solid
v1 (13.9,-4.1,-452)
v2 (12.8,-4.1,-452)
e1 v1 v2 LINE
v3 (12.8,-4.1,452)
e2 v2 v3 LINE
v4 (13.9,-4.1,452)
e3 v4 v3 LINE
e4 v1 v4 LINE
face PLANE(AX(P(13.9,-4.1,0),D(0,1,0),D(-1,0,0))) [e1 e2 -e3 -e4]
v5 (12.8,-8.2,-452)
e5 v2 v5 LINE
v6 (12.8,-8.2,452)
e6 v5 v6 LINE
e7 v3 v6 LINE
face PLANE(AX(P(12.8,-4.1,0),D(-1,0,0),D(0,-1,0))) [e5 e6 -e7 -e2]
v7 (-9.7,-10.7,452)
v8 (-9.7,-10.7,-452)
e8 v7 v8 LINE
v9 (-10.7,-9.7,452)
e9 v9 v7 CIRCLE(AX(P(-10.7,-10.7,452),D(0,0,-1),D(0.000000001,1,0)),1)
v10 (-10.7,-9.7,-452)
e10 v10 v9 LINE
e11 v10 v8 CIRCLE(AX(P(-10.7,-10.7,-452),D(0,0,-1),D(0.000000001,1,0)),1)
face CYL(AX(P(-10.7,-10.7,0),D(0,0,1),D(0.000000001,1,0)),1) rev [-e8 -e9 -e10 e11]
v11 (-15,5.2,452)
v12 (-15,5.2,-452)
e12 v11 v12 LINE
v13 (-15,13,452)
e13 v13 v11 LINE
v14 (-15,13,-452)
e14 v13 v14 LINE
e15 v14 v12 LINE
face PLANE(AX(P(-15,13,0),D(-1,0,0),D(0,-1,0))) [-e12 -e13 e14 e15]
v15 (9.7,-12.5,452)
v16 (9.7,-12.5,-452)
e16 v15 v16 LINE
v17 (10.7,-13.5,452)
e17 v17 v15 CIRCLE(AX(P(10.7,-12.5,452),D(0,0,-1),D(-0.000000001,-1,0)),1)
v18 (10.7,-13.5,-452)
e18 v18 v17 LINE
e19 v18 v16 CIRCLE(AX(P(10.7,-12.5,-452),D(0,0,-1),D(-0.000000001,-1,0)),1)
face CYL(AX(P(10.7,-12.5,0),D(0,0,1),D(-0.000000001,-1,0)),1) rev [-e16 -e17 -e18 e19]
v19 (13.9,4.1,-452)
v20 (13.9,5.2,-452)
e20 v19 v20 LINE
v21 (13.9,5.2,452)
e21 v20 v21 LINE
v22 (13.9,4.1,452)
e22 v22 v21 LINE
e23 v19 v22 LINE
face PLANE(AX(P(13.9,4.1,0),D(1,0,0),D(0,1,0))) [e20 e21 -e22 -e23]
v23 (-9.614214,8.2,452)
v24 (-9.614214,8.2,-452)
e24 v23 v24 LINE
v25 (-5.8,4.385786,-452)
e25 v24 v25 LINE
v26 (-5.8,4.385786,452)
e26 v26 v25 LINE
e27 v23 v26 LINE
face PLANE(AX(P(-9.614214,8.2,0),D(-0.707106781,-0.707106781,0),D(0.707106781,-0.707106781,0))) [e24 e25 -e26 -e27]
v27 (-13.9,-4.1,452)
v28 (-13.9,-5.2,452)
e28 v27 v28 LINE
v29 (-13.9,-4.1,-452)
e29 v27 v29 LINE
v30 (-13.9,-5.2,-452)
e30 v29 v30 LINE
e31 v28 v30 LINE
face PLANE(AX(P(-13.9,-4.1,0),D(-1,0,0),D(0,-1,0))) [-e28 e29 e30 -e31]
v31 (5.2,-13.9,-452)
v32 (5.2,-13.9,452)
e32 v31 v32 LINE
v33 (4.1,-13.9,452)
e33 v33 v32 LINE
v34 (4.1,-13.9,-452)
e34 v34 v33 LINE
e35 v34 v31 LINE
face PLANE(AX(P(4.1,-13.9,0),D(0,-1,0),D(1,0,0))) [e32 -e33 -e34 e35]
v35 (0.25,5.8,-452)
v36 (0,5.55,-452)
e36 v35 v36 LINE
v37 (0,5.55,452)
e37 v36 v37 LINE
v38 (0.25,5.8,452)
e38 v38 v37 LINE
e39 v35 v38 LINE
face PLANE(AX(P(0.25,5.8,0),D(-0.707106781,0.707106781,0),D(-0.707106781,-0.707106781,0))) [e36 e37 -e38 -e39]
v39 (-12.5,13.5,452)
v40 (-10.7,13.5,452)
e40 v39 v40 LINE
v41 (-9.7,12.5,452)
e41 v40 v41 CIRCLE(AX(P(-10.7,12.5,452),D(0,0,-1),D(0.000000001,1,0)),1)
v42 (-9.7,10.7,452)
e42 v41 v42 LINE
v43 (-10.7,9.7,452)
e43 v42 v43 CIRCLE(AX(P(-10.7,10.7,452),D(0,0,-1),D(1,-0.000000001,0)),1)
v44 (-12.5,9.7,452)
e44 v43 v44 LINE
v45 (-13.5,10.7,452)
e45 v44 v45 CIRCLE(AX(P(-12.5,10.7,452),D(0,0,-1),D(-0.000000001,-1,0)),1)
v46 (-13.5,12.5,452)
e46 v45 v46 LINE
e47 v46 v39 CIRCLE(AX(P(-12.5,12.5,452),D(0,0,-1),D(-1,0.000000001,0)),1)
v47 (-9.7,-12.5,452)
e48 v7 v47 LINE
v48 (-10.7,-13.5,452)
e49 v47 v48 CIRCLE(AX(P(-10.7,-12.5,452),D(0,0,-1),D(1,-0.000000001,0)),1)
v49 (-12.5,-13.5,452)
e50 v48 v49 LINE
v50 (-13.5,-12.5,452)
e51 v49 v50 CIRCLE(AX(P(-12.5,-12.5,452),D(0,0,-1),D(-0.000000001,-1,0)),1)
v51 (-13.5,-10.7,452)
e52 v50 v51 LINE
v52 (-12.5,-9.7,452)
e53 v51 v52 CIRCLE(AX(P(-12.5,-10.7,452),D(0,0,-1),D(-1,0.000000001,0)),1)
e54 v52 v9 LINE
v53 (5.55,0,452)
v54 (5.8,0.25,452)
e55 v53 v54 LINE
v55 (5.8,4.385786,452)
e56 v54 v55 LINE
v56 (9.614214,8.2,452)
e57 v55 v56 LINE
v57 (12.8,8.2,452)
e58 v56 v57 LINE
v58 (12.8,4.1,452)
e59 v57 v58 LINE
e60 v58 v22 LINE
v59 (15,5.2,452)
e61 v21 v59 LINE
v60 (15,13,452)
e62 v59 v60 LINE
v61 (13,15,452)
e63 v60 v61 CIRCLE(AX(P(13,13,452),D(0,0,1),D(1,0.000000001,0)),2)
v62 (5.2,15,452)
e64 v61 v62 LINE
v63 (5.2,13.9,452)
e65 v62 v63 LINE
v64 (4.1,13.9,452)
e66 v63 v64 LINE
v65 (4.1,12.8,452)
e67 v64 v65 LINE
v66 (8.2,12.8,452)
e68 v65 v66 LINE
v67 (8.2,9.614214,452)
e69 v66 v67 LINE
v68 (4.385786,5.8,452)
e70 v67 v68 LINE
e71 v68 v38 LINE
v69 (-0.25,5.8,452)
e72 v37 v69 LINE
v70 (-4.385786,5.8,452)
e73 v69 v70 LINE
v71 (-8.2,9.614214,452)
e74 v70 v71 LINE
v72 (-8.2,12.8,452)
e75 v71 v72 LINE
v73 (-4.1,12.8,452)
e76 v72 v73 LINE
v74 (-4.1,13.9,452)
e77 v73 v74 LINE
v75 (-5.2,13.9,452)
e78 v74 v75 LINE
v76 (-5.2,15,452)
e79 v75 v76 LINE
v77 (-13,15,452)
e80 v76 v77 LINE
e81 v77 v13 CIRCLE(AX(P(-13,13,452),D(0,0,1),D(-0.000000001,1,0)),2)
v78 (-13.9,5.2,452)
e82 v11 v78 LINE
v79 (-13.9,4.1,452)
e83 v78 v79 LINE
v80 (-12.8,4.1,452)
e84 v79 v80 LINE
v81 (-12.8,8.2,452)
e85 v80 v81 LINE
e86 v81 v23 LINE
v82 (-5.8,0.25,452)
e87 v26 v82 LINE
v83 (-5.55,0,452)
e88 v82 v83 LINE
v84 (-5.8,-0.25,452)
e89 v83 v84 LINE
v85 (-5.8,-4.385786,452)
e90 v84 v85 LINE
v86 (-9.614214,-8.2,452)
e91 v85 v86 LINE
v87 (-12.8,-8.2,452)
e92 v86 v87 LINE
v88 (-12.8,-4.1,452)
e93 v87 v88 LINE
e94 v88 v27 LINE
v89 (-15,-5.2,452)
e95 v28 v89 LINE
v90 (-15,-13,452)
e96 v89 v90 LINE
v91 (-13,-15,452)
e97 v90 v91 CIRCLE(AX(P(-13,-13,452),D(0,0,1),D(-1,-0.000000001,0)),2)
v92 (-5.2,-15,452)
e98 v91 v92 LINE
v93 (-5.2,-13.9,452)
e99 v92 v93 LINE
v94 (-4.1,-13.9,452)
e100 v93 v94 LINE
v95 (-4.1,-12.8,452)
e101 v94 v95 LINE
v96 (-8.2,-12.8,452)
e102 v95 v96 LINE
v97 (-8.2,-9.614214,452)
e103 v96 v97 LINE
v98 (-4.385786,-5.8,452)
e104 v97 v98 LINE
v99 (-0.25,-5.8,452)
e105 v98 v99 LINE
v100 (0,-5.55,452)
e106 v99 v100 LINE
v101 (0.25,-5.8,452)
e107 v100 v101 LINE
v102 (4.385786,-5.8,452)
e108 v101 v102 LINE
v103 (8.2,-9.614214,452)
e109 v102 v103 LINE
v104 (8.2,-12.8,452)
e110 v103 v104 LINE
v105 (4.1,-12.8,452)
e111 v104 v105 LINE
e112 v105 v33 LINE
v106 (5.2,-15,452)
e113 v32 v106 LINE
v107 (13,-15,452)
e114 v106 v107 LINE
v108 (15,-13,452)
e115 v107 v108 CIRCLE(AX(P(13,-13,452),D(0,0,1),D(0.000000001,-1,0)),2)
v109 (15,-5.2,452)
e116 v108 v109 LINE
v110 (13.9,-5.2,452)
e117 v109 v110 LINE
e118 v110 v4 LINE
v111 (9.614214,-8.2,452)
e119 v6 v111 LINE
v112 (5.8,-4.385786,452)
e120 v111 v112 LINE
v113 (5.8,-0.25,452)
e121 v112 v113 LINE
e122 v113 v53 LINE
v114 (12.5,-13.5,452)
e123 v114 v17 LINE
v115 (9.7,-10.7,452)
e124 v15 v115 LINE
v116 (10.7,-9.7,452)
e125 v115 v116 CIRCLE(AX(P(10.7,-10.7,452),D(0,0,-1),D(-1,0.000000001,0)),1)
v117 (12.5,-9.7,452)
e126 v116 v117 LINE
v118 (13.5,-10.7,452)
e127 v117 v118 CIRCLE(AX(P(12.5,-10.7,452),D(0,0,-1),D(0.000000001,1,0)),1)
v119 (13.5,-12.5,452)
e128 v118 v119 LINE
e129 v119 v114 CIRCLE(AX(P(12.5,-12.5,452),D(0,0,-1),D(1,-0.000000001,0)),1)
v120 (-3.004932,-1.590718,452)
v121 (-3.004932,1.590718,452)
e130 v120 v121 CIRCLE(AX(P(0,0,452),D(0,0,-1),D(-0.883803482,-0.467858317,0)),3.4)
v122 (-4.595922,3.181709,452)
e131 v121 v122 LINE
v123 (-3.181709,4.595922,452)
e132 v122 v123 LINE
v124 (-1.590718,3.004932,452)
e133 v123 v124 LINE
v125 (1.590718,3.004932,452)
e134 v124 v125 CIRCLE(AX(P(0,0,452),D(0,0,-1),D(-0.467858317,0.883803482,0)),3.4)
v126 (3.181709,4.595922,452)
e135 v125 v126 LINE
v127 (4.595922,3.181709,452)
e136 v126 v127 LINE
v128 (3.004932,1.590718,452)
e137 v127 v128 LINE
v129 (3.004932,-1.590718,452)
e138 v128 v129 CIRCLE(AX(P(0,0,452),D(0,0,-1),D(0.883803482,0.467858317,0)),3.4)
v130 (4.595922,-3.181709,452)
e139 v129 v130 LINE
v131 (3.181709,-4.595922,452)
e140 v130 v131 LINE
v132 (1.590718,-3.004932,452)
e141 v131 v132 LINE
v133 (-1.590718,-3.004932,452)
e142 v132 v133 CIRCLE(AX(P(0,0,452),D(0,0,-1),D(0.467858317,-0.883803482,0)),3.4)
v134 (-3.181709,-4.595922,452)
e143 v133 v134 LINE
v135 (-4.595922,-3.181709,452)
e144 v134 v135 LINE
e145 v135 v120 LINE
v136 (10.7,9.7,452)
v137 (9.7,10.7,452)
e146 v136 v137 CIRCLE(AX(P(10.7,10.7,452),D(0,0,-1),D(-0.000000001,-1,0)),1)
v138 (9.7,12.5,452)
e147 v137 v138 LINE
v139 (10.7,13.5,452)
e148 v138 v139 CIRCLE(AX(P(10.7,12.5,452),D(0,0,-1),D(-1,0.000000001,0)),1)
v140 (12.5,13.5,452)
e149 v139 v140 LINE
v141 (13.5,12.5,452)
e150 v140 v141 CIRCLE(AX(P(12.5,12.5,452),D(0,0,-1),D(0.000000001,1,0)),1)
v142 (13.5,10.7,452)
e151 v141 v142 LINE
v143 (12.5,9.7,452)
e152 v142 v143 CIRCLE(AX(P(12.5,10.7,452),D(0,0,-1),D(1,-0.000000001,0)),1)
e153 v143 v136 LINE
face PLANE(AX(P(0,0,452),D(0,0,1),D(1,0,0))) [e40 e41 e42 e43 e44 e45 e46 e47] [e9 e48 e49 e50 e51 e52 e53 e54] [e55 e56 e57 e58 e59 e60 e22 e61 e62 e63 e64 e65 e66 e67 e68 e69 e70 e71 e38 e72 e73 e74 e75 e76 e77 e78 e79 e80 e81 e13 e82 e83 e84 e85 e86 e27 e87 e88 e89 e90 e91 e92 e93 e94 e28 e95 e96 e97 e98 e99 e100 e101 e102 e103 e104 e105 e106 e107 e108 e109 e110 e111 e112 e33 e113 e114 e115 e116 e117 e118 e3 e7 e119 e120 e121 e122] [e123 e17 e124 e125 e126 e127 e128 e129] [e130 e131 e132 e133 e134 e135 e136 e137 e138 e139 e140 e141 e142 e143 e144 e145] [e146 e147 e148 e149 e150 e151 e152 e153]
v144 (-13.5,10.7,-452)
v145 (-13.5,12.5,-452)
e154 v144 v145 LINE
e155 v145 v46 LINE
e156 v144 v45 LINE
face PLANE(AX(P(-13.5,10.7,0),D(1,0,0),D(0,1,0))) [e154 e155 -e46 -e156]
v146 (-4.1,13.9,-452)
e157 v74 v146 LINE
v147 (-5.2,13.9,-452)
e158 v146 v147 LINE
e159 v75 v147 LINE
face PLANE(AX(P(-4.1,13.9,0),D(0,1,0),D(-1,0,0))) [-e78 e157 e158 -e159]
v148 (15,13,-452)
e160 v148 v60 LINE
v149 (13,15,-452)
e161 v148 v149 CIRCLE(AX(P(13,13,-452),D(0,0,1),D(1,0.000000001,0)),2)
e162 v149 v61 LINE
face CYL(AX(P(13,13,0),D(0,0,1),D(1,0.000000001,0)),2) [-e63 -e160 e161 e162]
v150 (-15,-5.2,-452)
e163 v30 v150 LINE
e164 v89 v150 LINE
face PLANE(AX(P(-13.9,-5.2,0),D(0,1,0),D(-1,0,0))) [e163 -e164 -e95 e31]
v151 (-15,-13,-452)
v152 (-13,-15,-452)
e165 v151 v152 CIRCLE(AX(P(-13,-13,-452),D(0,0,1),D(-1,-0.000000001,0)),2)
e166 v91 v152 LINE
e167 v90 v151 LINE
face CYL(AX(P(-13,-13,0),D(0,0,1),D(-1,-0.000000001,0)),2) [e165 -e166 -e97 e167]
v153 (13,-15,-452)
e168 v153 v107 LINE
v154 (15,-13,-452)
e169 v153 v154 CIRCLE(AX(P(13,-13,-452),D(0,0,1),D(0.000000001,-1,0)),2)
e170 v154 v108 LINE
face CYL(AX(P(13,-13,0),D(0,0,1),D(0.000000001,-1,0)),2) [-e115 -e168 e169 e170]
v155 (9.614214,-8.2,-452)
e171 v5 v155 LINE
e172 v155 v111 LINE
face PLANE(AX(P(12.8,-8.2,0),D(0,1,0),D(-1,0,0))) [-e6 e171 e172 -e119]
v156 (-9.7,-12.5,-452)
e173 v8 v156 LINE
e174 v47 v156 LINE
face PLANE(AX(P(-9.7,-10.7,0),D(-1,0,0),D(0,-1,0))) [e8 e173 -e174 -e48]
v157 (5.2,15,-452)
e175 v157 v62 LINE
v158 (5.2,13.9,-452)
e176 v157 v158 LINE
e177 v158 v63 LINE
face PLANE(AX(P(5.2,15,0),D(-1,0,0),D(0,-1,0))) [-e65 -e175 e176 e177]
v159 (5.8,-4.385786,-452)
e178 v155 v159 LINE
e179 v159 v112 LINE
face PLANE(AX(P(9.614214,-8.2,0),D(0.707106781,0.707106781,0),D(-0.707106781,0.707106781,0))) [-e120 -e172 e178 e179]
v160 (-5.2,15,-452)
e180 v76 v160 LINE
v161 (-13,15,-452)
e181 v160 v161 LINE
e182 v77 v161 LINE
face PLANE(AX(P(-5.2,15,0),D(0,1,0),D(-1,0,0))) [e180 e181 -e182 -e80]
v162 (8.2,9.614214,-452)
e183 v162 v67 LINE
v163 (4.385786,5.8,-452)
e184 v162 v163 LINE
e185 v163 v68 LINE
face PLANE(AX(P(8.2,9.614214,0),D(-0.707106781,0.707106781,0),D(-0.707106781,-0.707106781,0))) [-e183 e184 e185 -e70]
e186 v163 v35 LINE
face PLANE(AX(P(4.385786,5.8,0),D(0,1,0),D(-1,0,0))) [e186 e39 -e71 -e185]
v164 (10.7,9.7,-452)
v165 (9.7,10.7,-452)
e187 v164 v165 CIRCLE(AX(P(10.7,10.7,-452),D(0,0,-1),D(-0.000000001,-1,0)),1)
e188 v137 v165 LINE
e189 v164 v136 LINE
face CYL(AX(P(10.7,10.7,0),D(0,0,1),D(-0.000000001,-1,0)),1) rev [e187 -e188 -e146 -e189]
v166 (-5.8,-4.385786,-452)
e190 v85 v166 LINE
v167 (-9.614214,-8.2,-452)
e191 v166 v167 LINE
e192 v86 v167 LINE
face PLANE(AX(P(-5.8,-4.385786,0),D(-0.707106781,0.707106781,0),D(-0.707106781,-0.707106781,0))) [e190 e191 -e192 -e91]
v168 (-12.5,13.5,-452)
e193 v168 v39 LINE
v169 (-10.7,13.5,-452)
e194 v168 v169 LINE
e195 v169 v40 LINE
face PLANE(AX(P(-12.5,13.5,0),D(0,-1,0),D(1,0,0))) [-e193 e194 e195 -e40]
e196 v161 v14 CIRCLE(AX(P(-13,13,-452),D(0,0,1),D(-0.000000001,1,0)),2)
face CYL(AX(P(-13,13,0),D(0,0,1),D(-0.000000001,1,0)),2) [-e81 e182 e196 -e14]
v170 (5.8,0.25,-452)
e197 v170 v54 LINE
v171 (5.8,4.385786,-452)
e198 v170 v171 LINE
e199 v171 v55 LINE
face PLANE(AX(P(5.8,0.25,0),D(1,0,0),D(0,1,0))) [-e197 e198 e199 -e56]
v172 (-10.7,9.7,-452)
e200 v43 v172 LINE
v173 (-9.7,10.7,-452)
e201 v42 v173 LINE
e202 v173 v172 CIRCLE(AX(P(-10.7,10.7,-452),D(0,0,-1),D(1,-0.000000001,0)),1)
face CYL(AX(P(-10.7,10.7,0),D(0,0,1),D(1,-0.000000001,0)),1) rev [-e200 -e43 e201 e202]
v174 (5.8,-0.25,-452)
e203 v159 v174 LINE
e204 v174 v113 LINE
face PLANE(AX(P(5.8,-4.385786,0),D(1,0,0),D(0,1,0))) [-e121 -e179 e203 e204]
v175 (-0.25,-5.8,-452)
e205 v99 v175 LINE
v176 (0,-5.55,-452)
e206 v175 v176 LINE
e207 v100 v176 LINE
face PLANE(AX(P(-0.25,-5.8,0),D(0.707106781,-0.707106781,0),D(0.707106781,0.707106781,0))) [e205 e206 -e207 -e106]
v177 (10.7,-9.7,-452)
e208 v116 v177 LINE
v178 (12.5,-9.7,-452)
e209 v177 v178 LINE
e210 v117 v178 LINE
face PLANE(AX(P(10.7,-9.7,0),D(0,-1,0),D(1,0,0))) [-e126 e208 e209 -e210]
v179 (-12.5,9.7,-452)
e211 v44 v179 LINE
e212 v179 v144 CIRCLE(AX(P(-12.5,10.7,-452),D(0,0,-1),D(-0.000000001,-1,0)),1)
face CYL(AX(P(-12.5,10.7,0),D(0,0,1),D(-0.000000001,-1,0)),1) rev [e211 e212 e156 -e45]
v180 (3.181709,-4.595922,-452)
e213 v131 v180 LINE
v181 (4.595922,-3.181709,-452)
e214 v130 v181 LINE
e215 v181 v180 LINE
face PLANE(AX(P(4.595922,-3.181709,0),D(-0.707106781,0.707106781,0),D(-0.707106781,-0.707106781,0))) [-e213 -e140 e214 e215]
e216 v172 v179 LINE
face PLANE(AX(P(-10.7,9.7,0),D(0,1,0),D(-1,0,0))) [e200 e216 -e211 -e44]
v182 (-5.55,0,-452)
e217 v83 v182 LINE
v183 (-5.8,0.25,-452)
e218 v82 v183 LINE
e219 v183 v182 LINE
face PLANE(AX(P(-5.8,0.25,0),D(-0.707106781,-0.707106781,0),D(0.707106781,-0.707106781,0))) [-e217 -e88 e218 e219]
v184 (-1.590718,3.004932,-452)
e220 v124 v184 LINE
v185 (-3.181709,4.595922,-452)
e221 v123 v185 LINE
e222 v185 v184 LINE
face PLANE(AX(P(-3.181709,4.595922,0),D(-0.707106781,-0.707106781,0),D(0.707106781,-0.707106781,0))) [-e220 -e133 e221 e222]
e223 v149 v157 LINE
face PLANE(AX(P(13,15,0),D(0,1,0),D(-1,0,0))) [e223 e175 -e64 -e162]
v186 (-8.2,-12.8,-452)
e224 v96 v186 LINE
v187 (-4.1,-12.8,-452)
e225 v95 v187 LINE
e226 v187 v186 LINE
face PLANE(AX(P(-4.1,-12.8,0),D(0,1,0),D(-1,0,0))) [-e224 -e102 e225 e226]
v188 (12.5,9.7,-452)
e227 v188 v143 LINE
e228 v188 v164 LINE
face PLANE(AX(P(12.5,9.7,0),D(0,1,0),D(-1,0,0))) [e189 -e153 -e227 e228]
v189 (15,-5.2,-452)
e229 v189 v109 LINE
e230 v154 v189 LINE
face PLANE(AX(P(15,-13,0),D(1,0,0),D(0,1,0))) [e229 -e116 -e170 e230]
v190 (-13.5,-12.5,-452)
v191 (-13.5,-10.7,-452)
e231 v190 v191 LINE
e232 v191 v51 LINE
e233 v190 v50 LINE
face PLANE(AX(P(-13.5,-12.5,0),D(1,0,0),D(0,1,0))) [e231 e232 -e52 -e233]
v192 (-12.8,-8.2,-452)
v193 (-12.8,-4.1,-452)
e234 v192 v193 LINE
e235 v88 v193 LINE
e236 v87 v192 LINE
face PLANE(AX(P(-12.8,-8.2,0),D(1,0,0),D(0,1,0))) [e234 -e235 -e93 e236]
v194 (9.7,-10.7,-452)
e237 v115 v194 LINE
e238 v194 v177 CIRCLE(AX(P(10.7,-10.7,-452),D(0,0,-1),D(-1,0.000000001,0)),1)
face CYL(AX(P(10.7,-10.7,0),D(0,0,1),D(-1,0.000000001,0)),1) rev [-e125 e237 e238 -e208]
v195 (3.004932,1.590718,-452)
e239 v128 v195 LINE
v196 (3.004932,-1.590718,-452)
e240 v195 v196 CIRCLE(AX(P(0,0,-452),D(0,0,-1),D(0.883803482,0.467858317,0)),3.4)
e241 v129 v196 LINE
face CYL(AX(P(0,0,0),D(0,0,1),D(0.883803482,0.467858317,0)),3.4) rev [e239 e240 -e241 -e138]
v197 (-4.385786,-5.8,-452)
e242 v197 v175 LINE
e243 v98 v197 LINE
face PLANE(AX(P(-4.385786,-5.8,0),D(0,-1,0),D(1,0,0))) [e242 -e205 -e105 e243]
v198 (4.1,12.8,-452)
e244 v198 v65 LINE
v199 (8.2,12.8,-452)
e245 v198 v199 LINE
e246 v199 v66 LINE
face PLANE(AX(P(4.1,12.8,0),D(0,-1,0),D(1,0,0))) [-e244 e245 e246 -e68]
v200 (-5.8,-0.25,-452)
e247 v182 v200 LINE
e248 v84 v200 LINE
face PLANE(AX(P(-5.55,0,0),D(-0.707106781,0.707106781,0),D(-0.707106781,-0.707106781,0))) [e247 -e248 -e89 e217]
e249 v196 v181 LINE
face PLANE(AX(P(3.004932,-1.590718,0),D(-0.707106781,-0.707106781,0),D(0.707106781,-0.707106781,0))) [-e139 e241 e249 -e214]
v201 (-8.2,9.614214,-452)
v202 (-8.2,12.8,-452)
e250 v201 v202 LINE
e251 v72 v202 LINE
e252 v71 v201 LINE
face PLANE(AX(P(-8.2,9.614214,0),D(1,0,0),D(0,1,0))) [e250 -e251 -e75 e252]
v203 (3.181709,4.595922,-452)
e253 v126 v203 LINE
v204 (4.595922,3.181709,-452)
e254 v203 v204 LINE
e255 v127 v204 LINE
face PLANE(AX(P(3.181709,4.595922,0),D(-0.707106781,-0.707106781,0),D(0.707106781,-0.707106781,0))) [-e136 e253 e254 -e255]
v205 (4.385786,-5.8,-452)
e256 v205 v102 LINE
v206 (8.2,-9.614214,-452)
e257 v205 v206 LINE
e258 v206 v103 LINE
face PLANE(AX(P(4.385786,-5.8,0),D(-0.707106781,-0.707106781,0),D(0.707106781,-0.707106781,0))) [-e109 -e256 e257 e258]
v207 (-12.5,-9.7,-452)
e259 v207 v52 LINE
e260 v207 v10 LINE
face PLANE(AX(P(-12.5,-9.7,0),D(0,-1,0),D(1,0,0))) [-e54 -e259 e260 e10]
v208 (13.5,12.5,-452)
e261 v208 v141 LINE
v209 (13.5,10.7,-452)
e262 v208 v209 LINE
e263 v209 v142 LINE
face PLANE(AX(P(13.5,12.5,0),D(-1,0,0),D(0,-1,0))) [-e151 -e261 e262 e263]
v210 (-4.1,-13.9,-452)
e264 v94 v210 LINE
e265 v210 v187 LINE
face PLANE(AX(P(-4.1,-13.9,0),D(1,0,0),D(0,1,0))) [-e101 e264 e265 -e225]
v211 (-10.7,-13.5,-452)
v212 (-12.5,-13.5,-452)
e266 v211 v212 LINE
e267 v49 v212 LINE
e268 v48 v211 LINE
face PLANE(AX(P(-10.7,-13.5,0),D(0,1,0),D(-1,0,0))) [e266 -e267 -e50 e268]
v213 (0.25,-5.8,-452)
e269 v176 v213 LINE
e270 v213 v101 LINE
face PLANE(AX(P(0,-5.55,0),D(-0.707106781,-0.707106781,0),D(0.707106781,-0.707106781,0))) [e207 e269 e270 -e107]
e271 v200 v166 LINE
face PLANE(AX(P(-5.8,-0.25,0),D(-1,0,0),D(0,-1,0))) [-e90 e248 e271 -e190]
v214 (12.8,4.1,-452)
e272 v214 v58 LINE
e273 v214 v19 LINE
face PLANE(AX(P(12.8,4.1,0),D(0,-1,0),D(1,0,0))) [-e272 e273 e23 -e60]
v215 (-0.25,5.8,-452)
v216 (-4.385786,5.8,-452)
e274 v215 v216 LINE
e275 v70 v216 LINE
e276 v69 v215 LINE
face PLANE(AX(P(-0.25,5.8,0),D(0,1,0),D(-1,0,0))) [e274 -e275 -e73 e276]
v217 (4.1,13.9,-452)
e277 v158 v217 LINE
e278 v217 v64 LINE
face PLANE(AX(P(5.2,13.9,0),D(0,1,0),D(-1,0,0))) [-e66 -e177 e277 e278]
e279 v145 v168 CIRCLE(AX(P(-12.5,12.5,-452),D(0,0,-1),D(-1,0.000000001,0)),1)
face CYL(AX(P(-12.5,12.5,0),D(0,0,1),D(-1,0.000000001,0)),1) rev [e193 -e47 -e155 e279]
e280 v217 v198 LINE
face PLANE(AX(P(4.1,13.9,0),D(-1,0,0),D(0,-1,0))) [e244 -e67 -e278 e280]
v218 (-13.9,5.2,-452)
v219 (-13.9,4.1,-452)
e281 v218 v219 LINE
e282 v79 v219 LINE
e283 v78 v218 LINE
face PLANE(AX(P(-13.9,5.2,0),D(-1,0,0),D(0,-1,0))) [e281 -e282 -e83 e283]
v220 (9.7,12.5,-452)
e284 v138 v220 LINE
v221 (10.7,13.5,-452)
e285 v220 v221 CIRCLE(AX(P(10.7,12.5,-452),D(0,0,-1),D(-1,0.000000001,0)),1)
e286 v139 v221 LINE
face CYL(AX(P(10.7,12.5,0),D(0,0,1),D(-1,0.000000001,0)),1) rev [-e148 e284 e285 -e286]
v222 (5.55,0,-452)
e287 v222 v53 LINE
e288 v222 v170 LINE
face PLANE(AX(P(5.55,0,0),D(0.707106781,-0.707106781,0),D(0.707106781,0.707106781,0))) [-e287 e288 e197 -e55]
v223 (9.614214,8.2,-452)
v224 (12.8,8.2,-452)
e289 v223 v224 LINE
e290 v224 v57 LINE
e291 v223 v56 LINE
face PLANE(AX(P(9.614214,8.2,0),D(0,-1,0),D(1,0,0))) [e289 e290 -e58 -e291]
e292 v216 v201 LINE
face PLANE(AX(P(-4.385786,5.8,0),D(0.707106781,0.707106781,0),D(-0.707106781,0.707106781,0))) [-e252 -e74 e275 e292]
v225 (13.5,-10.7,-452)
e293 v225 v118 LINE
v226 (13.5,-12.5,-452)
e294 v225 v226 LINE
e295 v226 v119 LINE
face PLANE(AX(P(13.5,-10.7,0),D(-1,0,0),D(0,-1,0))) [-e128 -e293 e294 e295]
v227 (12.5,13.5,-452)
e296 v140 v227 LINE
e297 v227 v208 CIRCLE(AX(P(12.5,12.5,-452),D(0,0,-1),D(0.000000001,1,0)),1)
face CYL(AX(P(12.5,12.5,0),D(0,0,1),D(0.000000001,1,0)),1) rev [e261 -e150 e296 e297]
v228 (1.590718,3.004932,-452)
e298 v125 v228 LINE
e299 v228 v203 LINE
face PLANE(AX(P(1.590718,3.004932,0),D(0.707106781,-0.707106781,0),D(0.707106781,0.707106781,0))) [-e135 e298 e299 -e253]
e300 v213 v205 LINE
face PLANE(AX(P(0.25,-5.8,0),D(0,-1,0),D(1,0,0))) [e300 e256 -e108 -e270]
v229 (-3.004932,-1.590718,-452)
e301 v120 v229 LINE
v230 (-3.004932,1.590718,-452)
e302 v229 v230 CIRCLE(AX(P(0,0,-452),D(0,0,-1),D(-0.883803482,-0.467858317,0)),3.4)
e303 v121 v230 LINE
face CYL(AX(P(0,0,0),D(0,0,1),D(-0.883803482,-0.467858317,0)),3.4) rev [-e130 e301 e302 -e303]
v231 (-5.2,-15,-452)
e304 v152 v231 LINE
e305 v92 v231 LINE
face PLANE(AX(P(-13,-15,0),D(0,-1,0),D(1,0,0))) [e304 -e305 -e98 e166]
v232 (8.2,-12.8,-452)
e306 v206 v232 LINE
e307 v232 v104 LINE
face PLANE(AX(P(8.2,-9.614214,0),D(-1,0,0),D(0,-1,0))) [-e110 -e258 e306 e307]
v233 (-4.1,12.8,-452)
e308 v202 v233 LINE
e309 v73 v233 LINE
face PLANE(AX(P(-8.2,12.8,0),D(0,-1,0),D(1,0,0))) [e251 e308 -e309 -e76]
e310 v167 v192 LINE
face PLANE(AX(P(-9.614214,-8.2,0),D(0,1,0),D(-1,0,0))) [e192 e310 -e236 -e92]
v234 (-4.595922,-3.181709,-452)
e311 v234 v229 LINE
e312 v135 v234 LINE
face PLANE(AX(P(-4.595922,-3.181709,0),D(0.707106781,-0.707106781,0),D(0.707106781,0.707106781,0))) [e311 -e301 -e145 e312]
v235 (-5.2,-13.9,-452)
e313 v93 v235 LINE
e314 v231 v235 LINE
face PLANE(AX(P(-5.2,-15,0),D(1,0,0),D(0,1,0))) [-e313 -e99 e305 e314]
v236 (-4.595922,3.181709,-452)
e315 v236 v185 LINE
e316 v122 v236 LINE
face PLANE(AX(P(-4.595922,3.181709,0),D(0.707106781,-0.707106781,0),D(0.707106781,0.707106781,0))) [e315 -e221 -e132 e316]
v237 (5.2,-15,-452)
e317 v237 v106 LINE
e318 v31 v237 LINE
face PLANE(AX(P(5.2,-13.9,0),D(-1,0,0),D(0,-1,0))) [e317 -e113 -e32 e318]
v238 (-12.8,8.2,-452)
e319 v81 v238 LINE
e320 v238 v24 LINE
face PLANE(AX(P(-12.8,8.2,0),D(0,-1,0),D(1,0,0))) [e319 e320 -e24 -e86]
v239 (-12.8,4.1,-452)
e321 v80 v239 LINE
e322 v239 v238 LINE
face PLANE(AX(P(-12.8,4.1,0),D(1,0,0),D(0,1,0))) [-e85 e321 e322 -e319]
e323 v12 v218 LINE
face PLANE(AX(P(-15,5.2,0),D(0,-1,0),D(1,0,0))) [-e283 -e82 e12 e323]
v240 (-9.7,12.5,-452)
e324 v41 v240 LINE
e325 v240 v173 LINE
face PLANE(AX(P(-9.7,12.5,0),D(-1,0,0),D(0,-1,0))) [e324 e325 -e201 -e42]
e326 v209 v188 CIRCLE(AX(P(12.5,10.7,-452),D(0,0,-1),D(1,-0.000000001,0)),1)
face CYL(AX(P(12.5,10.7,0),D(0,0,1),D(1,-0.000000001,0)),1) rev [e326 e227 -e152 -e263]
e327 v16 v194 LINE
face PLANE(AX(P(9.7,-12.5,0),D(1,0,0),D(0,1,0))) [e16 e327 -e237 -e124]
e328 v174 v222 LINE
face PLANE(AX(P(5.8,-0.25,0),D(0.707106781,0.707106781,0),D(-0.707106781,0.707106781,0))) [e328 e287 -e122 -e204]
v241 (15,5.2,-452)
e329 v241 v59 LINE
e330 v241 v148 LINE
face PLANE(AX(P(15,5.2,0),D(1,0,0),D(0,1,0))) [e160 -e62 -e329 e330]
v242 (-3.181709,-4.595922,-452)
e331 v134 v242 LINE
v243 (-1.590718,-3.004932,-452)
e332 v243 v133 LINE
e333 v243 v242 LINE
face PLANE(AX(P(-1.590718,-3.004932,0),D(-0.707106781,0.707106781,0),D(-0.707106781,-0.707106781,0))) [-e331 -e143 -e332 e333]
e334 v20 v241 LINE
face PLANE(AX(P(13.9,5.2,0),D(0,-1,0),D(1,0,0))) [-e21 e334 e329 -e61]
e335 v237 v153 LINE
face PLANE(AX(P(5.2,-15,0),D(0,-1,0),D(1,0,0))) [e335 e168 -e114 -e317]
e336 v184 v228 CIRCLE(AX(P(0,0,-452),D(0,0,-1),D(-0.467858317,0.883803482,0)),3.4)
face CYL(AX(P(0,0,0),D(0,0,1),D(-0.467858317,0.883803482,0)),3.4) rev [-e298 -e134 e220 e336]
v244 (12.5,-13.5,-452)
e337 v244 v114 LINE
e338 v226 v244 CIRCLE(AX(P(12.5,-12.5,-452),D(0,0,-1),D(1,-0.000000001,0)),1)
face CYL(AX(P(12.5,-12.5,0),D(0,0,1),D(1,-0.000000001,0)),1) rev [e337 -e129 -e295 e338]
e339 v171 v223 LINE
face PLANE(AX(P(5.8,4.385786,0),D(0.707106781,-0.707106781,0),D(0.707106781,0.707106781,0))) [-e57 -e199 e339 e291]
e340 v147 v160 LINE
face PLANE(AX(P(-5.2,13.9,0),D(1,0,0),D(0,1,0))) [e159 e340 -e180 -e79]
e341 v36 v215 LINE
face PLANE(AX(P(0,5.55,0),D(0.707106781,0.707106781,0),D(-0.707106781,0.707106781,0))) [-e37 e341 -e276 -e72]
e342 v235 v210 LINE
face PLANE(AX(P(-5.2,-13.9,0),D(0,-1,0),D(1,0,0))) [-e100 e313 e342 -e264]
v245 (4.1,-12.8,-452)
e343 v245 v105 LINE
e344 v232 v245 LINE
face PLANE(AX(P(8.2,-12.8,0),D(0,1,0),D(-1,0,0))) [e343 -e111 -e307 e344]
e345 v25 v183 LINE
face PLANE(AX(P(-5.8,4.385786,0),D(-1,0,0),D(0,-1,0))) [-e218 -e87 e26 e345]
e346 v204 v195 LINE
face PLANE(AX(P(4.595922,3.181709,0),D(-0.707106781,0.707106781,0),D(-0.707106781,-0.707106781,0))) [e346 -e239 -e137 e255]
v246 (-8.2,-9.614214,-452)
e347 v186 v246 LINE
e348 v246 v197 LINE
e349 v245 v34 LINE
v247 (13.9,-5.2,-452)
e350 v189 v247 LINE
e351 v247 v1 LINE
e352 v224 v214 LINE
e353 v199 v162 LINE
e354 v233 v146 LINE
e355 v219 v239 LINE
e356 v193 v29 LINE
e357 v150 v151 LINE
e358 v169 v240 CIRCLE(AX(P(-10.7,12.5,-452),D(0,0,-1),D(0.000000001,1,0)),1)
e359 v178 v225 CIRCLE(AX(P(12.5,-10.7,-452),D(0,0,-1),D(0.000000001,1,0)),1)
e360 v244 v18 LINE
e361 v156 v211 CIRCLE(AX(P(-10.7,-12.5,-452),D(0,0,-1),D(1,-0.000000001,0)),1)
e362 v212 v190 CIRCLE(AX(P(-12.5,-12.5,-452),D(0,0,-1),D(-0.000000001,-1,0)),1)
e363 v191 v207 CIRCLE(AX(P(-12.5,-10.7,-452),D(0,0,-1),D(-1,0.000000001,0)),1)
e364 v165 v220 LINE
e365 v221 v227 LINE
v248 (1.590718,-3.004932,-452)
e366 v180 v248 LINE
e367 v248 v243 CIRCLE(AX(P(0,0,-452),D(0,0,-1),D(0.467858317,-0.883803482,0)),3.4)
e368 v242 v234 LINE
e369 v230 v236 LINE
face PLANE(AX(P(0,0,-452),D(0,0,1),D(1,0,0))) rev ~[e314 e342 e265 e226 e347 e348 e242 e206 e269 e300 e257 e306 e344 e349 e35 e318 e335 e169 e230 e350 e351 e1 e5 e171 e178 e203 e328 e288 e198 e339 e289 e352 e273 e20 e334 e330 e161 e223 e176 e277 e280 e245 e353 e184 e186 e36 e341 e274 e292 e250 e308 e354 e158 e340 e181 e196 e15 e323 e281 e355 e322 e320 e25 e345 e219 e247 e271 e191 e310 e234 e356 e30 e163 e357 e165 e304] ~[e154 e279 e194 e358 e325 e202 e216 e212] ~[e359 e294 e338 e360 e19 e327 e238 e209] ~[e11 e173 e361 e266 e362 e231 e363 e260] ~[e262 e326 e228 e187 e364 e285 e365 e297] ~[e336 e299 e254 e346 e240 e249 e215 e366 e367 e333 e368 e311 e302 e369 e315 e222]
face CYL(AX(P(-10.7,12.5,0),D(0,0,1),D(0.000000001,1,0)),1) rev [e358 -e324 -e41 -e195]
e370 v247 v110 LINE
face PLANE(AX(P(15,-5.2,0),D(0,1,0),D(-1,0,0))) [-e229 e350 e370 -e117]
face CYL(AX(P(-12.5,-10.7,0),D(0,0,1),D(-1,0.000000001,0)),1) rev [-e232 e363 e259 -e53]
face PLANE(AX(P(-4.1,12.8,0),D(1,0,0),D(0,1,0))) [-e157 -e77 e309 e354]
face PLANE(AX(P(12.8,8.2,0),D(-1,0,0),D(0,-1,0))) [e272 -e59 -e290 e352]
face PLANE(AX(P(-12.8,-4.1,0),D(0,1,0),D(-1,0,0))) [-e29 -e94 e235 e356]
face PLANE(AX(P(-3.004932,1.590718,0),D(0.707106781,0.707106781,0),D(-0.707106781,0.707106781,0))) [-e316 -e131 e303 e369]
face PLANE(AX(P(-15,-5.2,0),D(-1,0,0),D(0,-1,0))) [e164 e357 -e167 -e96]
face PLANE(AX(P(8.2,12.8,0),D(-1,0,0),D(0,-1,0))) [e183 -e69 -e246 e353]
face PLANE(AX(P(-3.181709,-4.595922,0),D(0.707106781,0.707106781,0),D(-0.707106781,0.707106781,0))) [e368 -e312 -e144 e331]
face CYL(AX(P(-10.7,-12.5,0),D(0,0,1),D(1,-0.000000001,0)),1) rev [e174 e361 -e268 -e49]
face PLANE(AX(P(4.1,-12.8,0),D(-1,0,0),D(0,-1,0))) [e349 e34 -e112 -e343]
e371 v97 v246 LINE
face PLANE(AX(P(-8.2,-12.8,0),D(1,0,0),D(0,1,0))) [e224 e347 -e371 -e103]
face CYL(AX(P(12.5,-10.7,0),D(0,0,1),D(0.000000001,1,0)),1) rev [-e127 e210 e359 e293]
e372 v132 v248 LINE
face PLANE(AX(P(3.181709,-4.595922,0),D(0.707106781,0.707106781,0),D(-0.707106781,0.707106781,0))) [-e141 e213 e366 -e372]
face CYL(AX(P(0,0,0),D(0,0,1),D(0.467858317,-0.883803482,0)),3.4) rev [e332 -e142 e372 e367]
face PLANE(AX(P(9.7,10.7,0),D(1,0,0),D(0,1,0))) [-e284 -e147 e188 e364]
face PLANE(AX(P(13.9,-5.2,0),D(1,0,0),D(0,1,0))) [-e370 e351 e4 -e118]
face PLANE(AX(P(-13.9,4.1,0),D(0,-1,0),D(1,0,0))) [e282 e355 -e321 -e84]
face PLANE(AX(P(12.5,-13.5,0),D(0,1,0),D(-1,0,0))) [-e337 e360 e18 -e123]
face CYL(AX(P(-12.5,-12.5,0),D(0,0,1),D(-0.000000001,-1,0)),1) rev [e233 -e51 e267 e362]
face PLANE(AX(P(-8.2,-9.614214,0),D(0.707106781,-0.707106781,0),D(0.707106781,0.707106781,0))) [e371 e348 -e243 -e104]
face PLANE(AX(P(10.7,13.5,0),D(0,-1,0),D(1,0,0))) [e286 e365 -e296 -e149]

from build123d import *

# Parameters (mm, degrees)
BOSS_EXTRUDE1_DEPTH = 452


with BuildPart() as part:
    # Sketch1 → Boss-Extrude1 (new, symmetric)
    with BuildSketch(Plane.XY):
        with BuildLine():
            Line((0, -5.55), (0.25, -5.8))
            Line((0.25, -5.8), (4.385786438, -5.8))
            Line((4.385786438, -5.8), (8.2, -9.614213562))
            Line((8.2, -9.614213562), (8.2, -12.8))
            Line((8.2, -12.8), (4.1, -12.8))
            Line((4.1, -12.8), (4.1, -13.9))
            Line((4.1, -13.9), (5.2, -13.9))
            Line((5.2, -13.9), (5.2, -15))
            Line((5.2, -15), (13, -15))
            ThreePointArc((13, -15), (14.414213562, -14.414213562), (15, -13))
            Line((15, -13), (15, -5.2))
            Line((15, -5.2), (13.9, -5.2))
            Line((13.9, -5.2), (13.9, -4.1))
            Line((13.9, -4.1), (12.8, -4.1))
            Line((12.8, -4.1), (12.8, -8.2))
            Line((12.8, -8.2), (9.614213562, -8.2))
            Line((9.614213562, -8.2), (5.8, -4.385786438))
            Line((5.8, -4.385786438), (5.8, -0.25))
            Line((5.8, -0.25), (5.55, 0))
            Line((5.55, 0), (5.8, 0.25))
            Line((5.8, 0.25), (5.8, 4.385786438))
            Line((5.8, 4.385786438), (9.614213562, 8.2))
            Line((9.614213562, 8.2), (12.8, 8.2))
            Line((12.8, 8.2), (12.8, 4.1))
            Line((12.8, 4.1), (13.9, 4.1))
            Line((13.9, 4.1), (13.9, 5.2))
            Line((13.9, 5.2), (15, 5.2))
            Line((15, 5.2), (15, 13))
            ThreePointArc((15, 13), (14.414213562, 14.414213562), (13, 15))
            Line((13, 15), (5.2, 15))
            Line((5.2, 15), (5.2, 13.9))
            Line((5.2, 13.9), (4.1, 13.9))
            Line((4.1, 13.9), (4.1, 12.8))
            Line((4.1, 12.8), (8.2, 12.8))
            Line((8.2, 12.8), (8.2, 9.614213562))
            Line((8.2, 9.614213562), (4.385786438, 5.8))
            Line((4.385786438, 5.8), (0.25, 5.8))
            Line((0.25, 5.8), (0, 5.55))
            Line((0, 5.55), (-0.25, 5.8))
            Line((-0.25, 5.8), (-4.385786438, 5.8))
            Line((-4.385786438, 5.8), (-8.2, 9.614213562))
            Line((-8.2, 9.614213562), (-8.2, 12.8))
            Line((-8.2, 12.8), (-4.1, 12.8))
            Line((-4.1, 12.8), (-4.1, 13.9))
            Line((-4.1, 13.9), (-5.2, 13.9))
            Line((-5.2, 13.9), (-5.2, 15))
            Line((-5.2, 15), (-13, 15))
            ThreePointArc((-13, 15), (-14.414213562, 14.414213562), (-15, 13))
            Line((-15, 13), (-15, 5.2))
            Line((-15, 5.2), (-13.9, 5.2))
            Line((-13.9, 5.2), (-13.9, 4.1))
            Line((-13.9, 4.1), (-12.8, 4.1))
            Line((-12.8, 4.1), (-12.8, 8.2))
            Line((-12.8, 8.2), (-9.614213562, 8.2))
            Line((-9.614213562, 8.2), (-5.8, 4.385786438))
            Line((-5.8, 4.385786438), (-5.8, 0.25))
            Line((-5.8, 0.25), (-5.55, 0))
            Line((-5.55, 0), (-5.8, -0.25))
            Line((-5.8, -0.25), (-5.8, -4.385786438))
            Line((-5.8, -4.385786438), (-9.614213562, -8.2))
            Line((-9.614213562, -8.2), (-12.8, -8.2))
            Line((-12.8, -8.2), (-12.8, -4.1))
            Line((-12.8, -4.1), (-13.9, -4.1))
            Line((-13.9, -4.1), (-13.9, -5.2))
            Line((-13.9, -5.2), (-15, -5.2))
            Line((-15, -5.2), (-15, -13))
            ThreePointArc((-15, -13), (-14.414213562, -14.414213562), (-13, -15))
            Line((-13, -15), (-5.2, -15))
            Line((-5.2, -15), (-5.2, -13.9))
            Line((-5.2, -13.9), (-4.1, -13.9))
            Line((-4.1, -13.9), (-4.1, -12.8))
            Line((-4.1, -12.8), (-8.2, -12.8))
            Line((-8.2, -12.8), (-8.2, -9.614213562))
            Line((-8.2, -9.614213562), (-4.385786438, -5.8))
            Line((-4.385786438, -5.8), (-0.25, -5.8))
            Line((-0.25, -5.8), (0, -5.55))
        make_face()
        with BuildLine():
            Line((-13.5, 10.7), (-13.5, 12.5))
            ThreePointArc((-13.5, 12.5), (-13.207106781, 13.207106781), (-12.5, 13.5))
            Line((-12.5, 13.5), (-10.7, 13.5))
            ThreePointArc((-10.7, 13.5), (-9.992893219, 13.207106781), (-9.7, 12.5))
            Line((-9.7, 12.5), (-9.7, 10.7))
            ThreePointArc((-9.7, 10.7), (-9.992893219, 9.992893219), (-10.7, 9.7))
            Line((-10.7, 9.7), (-12.5, 9.7))
            ThreePointArc((-12.5, 9.7), (-13.207106781, 9.992893219), (-13.5, 10.7))
        make_face(mode=Mode.SUBTRACT)
        with BuildLine():
            Line((-13.5, -12.5), (-13.5, -10.7))
            ThreePointArc((-13.5, -10.7), (-13.207106781, -9.992893219), (-12.5, -9.7))
            Line((-12.5, -9.7), (-10.7, -9.7))
            ThreePointArc((-10.7, -9.7), (-9.992893219, -9.992893219), (-9.7, -10.7))
            Line((-9.7, -10.7), (-9.7, -12.5))
            ThreePointArc((-9.7, -12.5), (-9.992893219, -13.207106781), (-10.7, -13.5))
            Line((-10.7, -13.5), (-12.5, -13.5))
            ThreePointArc((-12.5, -13.5), (-13.207106781, -13.207106781), (-13.5, -12.5))
        make_face(mode=Mode.SUBTRACT)
        with BuildLine():
            Line((13.5, -10.7), (13.5, -12.5))
            ThreePointArc((13.5, -12.5), (13.207106781, -13.207106781), (12.5, -13.5))
            Line((12.5, -13.5), (10.7, -13.5))
            ThreePointArc((10.7, -13.5), (9.992893219, -13.207106781), (9.7, -12.5))
            Line((9.7, -12.5), (9.7, -10.7))
            ThreePointArc((9.7, -10.7), (9.992893219, -9.992893219), (10.7, -9.7))
            Line((10.7, -9.7), (12.5, -9.7))
            ThreePointArc((12.5, -9.7), (13.207106781, -9.992893219), (13.5, -10.7))
        make_face(mode=Mode.SUBTRACT)
        with BuildLine():
            Line((13.5, 12.5), (13.5, 10.7))
            ThreePointArc((13.5, 10.7), (13.207106781, 9.992893219), (12.5, 9.7))
            Line((12.5, 9.7), (10.7, 9.7))
            ThreePointArc((10.7, 9.7), (9.992893219, 9.992893219), (9.7, 10.7))
            Line((9.7, 10.7), (9.7, 12.5))
            ThreePointArc((9.7, 12.5), (9.992893219, 13.207106781), (10.7, 13.5))
            Line((10.7, 13.5), (12.5, 13.5))
            ThreePointArc((12.5, 13.5), (13.207106781, 13.207106781), (13.5, 12.5))
        make_face(mode=Mode.SUBTRACT)
        with BuildLine():
            Line((-1.590718277, -3.00493184), (-3.181708535, -4.595922097))
            Line((-3.181708535, -4.595922097), (-4.595922097, -3.181708535))
            Line((-4.595922097, -3.181708535), (-3.00493184, -1.590718277))
            ThreePointArc((-3.00493184, -1.590718277), (-3.4, 0), (-3.00493184, 1.590718277))
            Line((-3.00493184, 1.590718277), (-4.595922097, 3.181708535))
            Line((-4.595922097, 3.181708535), (-3.181708535, 4.595922097))
            Line((-3.181708535, 4.595922097), (-1.590718277, 3.00493184))
            ThreePointArc((-1.590718277, 3.00493184), (0, 3.4), (1.590718277, 3.00493184))
            Line((1.590718277, 3.00493184), (3.181708535, 4.595922097))
            Line((3.181708535, 4.595922097), (4.595922097, 3.181708535))
            Line((4.595922097, 3.181708535), (3.00493184, 1.590718277))
            ThreePointArc((3.00493184, 1.590718277), (3.4, 0), (3.00493184, -1.590718277))
            Line((3.00493184, -1.590718277), (4.595922097, -3.181708535))
            Line((4.595922097, -3.181708535), (3.181708535, -4.595922097))
            Line((3.181708535, -4.595922097), (1.590718277, -3.00493184))
            ThreePointArc((1.590718277, -3.00493184), (0, -3.4), (-1.590718277, -3.00493184))
        make_face(mode=Mode.SUBTRACT)
    extrude(amount=BOSS_EXTRUDE1_DEPTH, both=True)


solid = part.part
